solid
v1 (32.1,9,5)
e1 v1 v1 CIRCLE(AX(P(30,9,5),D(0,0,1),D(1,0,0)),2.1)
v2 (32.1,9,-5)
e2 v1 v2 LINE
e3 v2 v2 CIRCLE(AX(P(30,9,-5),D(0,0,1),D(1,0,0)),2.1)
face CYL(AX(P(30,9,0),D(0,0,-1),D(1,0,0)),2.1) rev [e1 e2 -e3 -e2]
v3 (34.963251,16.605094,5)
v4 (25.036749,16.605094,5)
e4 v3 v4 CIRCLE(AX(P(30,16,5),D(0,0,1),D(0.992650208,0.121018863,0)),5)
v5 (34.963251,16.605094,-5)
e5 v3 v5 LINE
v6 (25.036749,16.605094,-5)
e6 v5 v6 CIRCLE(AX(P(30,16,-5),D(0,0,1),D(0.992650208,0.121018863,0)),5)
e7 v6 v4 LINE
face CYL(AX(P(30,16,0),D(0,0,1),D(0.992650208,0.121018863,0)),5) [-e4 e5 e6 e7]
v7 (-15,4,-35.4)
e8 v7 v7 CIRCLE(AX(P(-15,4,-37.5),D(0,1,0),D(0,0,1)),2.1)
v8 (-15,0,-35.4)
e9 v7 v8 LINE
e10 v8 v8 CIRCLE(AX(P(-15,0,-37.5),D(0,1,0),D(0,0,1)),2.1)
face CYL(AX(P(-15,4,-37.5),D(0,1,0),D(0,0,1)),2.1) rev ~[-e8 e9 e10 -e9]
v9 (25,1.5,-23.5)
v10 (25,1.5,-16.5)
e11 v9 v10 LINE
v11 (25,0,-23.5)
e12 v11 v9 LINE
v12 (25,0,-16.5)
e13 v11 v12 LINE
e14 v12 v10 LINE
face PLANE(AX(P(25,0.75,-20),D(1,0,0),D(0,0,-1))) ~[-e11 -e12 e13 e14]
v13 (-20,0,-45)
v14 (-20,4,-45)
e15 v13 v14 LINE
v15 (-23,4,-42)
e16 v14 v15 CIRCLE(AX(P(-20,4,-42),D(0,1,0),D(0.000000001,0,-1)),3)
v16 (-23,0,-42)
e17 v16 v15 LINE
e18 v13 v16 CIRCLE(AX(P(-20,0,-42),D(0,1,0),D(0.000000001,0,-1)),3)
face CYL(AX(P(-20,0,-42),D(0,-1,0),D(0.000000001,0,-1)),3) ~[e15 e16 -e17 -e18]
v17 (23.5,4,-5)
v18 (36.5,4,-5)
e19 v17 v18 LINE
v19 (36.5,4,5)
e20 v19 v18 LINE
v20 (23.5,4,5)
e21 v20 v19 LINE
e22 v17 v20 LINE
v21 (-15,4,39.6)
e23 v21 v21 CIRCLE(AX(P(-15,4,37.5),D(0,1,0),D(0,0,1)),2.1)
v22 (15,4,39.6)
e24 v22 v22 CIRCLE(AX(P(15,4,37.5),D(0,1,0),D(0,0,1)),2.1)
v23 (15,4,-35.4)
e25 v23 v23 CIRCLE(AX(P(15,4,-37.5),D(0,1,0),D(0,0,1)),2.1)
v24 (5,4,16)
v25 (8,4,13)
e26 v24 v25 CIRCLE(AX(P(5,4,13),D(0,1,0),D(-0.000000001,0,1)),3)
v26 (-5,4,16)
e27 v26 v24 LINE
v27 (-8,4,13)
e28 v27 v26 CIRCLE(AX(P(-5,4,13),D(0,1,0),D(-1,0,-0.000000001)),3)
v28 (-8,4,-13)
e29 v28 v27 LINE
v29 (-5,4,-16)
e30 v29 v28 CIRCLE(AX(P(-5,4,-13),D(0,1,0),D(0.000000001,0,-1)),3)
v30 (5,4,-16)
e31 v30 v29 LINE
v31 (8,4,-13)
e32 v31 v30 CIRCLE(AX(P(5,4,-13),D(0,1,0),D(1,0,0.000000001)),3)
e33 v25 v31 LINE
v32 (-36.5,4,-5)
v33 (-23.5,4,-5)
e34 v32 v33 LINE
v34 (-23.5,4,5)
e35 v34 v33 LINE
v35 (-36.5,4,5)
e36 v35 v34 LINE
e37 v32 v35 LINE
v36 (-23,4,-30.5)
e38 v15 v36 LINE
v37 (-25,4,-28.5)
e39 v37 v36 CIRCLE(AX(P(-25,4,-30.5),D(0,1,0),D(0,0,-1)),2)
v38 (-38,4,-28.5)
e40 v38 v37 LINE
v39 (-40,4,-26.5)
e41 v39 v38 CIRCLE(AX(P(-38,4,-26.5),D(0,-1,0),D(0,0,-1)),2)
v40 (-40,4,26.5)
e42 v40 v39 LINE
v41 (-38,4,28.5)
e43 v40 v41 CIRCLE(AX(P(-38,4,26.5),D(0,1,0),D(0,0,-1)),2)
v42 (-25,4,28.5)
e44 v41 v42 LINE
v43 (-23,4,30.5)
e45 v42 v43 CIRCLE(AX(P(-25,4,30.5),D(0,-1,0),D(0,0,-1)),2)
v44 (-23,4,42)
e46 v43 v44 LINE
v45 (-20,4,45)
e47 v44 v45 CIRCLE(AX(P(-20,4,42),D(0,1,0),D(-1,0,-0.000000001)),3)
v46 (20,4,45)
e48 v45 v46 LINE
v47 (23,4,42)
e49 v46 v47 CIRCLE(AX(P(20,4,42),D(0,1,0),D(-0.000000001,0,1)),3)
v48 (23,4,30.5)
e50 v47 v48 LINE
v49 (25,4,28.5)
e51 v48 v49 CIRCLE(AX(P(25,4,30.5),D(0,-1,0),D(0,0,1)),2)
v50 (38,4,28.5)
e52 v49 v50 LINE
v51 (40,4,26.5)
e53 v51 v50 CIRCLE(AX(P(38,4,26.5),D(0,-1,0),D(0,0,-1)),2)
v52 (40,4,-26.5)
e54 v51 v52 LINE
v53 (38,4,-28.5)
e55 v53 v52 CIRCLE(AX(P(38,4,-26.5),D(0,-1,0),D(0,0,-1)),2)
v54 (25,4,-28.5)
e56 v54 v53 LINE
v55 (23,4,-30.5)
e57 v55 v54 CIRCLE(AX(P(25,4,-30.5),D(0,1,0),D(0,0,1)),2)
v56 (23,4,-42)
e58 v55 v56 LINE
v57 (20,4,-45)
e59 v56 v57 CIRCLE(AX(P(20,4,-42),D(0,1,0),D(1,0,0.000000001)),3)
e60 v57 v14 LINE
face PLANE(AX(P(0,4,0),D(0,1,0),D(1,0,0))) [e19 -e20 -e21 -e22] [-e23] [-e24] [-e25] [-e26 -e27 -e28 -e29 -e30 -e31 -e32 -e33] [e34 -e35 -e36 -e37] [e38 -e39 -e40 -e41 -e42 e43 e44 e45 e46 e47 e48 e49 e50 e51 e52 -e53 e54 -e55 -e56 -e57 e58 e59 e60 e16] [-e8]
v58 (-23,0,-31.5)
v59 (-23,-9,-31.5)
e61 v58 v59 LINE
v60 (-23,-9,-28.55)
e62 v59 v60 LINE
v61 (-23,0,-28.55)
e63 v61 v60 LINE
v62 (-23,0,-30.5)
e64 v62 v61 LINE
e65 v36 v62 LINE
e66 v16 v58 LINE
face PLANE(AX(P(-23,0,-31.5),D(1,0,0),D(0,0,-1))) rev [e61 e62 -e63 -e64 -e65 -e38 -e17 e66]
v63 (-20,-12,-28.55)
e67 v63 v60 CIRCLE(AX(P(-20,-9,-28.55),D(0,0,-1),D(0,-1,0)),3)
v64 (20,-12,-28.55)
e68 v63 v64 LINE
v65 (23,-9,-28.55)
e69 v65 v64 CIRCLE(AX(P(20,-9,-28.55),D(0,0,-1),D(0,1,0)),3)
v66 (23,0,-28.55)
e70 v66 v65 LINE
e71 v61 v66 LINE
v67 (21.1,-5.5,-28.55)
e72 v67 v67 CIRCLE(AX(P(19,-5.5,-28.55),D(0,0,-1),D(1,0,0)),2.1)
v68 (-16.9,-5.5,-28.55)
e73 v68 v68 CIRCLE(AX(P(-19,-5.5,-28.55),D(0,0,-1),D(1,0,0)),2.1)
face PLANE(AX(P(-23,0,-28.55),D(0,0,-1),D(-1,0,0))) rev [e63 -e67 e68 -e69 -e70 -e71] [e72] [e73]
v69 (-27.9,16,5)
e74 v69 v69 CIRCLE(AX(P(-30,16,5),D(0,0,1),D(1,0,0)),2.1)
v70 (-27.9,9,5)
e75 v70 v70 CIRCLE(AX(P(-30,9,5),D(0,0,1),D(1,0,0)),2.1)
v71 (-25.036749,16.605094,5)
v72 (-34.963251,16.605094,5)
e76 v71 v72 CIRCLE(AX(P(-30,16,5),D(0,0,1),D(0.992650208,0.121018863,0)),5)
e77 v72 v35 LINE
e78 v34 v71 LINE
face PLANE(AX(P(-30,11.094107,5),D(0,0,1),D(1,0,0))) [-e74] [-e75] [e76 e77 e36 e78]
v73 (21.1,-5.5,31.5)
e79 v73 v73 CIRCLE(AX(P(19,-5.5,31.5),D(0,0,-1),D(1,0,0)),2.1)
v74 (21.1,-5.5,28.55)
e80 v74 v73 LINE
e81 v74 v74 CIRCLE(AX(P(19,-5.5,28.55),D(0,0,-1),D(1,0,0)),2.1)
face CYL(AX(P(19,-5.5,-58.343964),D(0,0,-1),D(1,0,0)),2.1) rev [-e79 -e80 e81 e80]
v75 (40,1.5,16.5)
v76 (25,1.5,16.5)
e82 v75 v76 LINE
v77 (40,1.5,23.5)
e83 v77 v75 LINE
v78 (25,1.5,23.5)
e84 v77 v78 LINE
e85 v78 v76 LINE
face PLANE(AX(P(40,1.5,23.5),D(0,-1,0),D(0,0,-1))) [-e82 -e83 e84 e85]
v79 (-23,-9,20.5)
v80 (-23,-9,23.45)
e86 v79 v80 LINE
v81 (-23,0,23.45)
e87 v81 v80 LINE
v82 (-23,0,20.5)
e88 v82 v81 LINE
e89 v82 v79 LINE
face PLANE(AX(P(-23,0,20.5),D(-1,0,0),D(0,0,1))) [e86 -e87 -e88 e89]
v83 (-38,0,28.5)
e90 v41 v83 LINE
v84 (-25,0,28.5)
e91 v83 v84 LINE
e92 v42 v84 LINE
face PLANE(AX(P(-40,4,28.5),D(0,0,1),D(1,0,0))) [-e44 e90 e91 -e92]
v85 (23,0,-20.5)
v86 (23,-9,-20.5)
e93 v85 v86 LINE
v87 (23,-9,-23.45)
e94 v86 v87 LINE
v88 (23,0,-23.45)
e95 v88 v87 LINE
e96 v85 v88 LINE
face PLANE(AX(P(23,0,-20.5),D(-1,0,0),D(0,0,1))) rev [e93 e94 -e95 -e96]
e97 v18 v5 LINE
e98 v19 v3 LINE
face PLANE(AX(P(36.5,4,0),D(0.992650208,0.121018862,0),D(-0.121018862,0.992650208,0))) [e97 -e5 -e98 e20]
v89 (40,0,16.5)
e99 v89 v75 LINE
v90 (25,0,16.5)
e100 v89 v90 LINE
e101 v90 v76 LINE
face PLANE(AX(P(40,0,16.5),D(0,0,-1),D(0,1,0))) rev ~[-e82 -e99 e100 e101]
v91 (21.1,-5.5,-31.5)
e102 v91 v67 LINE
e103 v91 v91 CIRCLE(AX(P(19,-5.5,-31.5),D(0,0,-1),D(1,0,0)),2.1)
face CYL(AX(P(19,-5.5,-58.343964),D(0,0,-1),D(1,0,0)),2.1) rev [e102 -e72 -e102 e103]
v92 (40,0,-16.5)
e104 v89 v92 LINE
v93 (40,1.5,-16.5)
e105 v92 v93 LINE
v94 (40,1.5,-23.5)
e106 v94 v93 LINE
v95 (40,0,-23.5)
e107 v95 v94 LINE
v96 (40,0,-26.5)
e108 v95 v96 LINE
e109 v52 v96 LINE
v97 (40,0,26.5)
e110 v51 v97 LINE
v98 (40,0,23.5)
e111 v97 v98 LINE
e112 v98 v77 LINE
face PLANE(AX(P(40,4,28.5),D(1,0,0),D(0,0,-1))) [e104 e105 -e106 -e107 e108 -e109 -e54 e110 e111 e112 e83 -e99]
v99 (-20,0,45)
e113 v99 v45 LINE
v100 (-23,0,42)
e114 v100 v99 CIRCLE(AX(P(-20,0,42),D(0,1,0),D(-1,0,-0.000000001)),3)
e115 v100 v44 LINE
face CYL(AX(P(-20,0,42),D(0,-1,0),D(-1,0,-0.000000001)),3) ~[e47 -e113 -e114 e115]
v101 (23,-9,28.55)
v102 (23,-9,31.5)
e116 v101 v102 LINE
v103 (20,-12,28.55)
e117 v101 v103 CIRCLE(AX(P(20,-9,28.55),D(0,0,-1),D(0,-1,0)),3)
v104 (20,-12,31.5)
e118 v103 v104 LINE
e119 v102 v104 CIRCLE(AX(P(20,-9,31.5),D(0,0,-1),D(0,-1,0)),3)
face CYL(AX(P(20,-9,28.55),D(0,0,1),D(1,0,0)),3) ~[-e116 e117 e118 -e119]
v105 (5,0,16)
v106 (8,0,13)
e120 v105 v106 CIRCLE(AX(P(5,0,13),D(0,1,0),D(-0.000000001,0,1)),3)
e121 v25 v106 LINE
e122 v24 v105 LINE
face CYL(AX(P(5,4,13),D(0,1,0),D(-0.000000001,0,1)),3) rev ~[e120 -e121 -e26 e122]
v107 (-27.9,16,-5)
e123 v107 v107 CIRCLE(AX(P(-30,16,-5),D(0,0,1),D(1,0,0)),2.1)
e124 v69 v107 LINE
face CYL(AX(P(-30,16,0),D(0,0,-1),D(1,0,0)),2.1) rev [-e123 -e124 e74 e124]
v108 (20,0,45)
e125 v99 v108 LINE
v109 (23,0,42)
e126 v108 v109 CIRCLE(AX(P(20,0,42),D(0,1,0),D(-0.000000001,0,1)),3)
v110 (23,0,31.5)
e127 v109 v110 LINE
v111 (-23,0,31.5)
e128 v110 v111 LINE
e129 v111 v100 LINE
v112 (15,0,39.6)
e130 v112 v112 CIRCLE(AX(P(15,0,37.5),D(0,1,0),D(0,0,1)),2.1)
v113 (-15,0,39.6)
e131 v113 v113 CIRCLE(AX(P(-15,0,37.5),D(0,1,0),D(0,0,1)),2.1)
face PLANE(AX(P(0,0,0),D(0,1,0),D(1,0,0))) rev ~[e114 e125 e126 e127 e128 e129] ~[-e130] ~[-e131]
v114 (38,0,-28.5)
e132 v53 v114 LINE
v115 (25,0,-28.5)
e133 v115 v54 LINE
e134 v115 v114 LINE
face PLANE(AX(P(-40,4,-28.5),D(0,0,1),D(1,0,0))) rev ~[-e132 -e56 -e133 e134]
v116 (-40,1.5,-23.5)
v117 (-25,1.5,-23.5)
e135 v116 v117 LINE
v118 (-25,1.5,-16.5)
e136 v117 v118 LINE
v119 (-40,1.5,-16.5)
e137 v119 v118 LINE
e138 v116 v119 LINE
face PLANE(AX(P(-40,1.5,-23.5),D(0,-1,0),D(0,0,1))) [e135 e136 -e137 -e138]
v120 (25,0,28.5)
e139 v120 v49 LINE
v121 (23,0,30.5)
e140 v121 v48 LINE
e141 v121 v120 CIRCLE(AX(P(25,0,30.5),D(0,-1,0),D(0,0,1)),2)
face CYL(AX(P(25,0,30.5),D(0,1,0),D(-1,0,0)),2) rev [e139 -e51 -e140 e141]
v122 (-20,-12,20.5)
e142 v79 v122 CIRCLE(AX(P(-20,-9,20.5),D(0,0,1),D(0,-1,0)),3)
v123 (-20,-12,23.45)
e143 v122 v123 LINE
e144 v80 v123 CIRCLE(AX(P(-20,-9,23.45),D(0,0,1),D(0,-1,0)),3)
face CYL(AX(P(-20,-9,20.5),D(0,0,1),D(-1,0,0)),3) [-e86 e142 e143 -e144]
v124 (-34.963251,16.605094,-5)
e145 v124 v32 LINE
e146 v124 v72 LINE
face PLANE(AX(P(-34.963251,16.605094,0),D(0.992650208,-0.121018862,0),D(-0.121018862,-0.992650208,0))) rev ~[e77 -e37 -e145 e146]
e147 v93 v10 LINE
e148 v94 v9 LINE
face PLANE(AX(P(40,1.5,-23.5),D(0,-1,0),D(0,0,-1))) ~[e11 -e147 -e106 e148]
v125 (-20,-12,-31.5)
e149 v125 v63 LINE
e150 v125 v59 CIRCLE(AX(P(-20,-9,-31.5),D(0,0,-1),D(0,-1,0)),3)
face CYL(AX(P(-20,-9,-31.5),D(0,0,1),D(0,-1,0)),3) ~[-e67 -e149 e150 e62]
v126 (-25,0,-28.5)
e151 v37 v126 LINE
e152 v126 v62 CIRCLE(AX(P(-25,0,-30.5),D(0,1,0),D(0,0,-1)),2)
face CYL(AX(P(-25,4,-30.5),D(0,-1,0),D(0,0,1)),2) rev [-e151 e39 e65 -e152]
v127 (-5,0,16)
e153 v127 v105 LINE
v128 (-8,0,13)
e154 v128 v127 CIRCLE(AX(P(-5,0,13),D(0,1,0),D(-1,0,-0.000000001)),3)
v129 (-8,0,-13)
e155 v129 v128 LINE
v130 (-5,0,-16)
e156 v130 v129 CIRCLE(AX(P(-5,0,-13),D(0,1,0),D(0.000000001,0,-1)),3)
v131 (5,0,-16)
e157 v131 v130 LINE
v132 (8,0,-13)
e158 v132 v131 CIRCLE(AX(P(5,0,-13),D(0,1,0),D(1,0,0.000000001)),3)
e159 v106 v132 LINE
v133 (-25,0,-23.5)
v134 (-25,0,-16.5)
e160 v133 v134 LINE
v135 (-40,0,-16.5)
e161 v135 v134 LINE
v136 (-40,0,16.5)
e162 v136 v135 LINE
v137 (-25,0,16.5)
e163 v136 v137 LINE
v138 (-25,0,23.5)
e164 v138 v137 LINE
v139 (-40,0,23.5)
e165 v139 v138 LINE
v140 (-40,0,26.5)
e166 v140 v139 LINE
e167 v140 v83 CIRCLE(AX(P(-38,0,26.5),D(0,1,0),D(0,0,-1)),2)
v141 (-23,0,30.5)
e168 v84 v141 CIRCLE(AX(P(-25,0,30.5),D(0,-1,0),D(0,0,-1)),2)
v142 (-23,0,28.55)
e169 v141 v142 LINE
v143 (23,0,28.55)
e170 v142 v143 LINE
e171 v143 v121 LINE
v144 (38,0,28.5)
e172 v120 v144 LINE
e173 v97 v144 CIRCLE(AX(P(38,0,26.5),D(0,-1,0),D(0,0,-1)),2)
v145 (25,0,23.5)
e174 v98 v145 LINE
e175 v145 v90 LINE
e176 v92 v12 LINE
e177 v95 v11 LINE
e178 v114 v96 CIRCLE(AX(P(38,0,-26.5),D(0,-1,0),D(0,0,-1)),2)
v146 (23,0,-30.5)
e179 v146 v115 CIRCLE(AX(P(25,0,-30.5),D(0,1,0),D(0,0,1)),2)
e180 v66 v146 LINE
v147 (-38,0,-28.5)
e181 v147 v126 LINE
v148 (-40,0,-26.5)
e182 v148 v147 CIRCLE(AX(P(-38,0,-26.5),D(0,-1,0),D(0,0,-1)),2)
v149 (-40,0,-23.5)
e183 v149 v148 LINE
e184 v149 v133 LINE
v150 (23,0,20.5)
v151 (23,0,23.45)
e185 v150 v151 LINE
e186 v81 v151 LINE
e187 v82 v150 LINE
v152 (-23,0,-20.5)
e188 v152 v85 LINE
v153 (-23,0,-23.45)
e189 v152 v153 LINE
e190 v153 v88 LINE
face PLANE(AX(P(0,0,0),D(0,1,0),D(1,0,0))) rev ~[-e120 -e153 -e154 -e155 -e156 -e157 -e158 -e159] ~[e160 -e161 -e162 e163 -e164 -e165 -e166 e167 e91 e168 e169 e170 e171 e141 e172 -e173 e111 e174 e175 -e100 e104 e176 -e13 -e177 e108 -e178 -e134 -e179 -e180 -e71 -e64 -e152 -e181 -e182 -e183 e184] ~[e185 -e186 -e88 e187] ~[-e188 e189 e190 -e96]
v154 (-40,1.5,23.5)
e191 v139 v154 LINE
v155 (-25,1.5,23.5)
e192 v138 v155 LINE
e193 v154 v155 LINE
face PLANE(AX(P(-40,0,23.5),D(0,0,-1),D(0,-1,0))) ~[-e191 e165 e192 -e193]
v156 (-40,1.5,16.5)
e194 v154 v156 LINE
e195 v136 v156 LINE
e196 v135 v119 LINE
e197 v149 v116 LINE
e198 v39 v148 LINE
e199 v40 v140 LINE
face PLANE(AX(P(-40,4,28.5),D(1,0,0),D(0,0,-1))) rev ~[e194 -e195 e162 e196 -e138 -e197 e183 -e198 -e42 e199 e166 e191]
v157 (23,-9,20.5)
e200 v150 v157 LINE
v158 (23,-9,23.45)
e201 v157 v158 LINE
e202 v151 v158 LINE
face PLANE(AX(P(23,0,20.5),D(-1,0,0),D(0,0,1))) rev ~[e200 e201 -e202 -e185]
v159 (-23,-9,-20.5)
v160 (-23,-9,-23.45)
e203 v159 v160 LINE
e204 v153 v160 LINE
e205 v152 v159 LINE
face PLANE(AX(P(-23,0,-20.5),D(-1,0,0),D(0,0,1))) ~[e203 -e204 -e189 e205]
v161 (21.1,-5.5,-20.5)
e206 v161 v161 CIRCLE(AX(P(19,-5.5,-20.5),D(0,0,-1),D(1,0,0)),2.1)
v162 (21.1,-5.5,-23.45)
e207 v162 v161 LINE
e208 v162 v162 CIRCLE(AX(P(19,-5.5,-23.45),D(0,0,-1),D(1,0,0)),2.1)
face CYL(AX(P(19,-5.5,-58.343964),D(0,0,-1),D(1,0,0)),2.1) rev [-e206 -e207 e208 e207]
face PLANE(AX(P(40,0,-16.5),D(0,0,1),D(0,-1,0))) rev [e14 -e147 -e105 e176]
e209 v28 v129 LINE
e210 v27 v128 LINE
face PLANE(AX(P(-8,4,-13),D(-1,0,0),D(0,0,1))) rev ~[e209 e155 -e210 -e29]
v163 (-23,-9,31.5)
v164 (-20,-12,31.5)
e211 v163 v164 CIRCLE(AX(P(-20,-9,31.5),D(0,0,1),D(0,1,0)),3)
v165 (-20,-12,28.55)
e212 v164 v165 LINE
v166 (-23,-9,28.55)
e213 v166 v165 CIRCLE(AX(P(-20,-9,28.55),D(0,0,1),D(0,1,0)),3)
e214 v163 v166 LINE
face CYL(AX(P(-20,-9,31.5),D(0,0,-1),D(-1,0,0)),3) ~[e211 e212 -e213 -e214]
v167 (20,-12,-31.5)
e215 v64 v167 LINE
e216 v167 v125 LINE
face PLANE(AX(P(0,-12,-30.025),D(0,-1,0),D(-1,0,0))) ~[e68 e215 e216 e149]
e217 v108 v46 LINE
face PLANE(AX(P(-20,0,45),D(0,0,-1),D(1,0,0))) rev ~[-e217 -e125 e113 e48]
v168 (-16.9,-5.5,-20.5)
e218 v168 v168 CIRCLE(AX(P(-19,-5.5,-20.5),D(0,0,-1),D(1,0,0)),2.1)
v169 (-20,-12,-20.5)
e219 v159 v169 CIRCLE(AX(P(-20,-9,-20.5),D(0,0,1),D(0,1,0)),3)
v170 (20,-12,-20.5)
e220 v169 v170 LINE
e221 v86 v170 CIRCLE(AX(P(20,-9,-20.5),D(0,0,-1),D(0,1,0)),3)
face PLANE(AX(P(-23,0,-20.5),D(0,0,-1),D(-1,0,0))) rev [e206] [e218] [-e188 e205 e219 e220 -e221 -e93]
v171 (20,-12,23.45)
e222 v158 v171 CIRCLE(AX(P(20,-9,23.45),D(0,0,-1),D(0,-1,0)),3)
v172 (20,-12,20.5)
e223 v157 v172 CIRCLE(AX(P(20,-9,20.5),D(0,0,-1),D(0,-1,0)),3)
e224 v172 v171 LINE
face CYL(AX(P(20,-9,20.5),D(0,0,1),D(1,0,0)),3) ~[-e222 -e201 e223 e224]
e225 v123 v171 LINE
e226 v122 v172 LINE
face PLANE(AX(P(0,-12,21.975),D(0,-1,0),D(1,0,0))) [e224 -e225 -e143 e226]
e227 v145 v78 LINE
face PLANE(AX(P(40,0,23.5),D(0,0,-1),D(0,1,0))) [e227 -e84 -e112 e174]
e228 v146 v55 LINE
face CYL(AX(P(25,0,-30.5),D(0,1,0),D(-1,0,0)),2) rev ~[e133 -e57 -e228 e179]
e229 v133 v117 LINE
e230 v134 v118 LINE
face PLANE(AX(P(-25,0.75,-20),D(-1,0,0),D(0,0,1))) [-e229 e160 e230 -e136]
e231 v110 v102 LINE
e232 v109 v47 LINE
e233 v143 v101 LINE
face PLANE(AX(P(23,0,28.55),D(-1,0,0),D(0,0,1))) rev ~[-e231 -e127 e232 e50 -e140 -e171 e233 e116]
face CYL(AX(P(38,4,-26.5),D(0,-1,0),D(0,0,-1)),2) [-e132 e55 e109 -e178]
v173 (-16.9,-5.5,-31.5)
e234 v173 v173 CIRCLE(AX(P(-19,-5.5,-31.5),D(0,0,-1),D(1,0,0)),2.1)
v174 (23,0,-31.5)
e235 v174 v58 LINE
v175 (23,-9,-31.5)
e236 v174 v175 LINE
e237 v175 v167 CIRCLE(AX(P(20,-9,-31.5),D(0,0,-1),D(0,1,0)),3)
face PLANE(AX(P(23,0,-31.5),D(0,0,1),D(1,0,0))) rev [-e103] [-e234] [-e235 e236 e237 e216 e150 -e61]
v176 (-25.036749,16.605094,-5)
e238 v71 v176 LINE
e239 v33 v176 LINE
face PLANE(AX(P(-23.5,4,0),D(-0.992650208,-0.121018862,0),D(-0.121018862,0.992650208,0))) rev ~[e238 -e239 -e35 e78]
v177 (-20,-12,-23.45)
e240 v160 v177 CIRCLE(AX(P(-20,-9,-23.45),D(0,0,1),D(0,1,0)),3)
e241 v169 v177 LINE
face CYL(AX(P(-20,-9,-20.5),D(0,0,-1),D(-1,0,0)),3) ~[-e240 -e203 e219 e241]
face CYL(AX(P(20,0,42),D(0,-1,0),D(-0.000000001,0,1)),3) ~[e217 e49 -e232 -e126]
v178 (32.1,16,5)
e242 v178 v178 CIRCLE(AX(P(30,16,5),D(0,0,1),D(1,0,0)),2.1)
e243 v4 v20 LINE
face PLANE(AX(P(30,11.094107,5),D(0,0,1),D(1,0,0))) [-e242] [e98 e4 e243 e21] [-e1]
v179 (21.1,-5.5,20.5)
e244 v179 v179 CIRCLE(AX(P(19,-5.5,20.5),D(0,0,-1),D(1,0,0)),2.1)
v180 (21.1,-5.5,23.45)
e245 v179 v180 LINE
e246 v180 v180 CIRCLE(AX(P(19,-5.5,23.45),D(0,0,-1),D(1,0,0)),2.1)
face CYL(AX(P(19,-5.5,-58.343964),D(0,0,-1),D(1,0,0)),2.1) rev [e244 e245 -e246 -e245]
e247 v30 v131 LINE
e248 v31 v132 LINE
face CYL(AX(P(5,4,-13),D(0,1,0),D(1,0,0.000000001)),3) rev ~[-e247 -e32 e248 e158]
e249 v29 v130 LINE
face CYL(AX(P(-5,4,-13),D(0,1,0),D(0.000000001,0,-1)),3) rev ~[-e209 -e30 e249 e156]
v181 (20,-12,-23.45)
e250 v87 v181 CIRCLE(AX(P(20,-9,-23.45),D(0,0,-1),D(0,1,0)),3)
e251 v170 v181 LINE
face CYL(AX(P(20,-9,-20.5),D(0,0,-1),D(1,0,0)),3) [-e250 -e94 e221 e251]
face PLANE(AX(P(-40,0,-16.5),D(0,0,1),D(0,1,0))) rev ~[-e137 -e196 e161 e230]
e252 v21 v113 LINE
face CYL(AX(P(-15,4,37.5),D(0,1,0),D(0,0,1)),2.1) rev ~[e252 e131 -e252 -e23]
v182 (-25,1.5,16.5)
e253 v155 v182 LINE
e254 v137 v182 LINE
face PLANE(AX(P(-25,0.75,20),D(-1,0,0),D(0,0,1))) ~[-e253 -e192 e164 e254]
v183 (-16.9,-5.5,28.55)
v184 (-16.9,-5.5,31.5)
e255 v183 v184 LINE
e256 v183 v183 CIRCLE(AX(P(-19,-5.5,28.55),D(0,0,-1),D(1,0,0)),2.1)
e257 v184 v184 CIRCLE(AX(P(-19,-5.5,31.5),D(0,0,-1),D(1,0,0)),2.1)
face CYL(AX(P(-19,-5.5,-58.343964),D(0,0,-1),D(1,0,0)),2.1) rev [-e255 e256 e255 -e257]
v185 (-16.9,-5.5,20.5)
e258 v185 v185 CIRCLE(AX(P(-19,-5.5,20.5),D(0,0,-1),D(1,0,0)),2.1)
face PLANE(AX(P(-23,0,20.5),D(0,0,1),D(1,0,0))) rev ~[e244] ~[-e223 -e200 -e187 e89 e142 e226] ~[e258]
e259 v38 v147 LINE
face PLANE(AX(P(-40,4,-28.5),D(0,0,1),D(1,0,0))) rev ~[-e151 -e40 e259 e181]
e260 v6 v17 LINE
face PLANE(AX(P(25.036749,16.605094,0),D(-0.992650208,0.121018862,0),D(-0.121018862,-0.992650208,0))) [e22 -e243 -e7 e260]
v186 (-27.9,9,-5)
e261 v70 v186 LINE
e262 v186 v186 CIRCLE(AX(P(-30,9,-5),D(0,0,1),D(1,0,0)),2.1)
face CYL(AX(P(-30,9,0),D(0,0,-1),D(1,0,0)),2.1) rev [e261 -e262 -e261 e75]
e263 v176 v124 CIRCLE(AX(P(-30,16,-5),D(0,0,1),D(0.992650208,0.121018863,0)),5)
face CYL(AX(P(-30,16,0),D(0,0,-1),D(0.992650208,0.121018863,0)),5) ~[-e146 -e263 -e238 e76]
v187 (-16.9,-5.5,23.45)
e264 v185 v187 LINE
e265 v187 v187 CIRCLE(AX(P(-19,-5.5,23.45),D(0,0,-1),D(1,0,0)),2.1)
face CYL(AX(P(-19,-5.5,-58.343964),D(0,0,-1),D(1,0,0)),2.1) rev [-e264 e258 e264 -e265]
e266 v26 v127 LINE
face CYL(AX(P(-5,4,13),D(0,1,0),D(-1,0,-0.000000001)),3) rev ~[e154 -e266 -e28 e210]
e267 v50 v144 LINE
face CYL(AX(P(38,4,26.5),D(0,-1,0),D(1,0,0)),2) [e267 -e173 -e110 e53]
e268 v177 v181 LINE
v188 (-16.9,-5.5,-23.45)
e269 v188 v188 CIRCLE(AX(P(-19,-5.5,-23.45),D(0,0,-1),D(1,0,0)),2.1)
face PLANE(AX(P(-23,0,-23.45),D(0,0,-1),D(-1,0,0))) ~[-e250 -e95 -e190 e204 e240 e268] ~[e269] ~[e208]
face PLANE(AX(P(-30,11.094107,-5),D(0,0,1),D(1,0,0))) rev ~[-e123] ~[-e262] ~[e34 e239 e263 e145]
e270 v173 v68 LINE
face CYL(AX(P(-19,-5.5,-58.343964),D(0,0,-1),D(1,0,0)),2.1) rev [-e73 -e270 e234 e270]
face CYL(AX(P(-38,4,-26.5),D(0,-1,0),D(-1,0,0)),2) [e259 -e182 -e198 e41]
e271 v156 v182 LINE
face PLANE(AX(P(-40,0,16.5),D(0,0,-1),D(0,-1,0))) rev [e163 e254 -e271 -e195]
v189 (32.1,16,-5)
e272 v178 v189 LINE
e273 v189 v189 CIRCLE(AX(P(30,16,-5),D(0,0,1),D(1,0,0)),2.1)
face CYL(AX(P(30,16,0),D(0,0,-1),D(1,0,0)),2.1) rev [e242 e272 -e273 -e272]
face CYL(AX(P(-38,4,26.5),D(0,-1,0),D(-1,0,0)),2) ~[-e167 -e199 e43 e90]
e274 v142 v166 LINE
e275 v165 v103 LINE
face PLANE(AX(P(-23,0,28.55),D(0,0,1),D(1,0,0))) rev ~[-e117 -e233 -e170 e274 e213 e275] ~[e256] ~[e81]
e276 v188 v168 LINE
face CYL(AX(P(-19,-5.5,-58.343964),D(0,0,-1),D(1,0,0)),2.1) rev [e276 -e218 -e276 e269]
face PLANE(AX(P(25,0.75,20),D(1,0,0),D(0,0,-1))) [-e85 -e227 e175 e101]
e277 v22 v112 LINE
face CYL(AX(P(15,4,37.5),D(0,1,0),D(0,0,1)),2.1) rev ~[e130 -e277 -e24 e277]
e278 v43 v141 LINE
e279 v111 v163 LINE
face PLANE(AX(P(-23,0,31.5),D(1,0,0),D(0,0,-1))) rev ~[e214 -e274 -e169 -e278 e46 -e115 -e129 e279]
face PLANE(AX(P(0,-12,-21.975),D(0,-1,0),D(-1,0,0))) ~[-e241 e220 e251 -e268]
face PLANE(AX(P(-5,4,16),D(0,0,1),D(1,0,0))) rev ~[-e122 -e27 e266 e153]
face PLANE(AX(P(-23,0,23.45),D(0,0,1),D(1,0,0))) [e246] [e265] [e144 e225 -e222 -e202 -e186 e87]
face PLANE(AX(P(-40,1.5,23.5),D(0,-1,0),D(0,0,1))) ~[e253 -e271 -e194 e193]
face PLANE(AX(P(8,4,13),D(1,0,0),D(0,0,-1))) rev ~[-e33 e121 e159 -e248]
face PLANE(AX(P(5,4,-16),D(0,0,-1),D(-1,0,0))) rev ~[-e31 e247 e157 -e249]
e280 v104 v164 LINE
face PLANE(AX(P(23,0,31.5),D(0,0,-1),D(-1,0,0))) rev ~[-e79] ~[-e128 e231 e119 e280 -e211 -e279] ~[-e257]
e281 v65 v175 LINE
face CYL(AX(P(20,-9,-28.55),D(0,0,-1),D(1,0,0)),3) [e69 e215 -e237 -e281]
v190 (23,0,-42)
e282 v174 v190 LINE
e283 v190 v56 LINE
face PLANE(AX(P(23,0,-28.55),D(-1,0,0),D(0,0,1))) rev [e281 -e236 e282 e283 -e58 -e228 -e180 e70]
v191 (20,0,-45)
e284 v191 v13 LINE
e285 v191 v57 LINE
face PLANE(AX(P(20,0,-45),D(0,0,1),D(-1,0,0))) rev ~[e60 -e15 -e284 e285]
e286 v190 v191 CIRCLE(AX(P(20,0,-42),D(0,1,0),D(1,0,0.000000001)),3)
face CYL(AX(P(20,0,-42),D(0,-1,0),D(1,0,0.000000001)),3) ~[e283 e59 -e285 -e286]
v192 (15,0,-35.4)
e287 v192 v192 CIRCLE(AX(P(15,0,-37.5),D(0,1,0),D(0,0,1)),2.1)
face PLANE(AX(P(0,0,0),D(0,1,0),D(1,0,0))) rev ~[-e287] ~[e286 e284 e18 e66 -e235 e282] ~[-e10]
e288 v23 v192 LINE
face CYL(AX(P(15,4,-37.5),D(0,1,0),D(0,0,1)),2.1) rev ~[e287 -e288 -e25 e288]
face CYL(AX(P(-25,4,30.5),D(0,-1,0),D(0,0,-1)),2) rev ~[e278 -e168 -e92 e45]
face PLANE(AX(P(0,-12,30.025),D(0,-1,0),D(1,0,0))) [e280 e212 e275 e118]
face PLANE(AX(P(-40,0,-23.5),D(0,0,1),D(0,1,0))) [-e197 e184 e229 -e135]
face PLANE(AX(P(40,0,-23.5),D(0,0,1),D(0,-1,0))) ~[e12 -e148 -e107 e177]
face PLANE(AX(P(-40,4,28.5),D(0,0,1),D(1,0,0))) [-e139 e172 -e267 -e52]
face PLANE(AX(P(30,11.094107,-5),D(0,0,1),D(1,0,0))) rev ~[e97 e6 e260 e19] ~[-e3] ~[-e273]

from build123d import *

# Parameters (mm, degrees)
EXTRUDE_1_DEPTH          = 4
SKETCH_2_W               = 80
SKETCH_2_H               = 57
EXTRUDE_2_DEPTH          = 4
FILLET_1_R               = 2
SKETCH_3_R               = 2.1
CUT_EXTRUDE_1_DEPTH      = 61.340699366
SKETCH_4_R               = 2.1
EXTRUDE_3_DEPTH          = 5
SKETCH_5_W               = 46
SKETCH_5_H               = 2.95
EXTRUDE_4_DEPTH          = 12
CUT_EXTRUDE_2_DEPTH      = 89.843964342
CUT_EXTRUDE_2_DEPTH_BACK = 89.843964342
SKETCH_6_R               = 2.1
FILLET_2_R               = 3
SKETCH_7_W               = 7
SKETCH_7_H               = 1.5
CUT_EXTRUDE_3_DEPTH      = 15
MIRROR_3_COPY_1_SKETCH_W = 7
MIRROR_3_COPY_1_SKETCH_H = 1.5
MIRROR_3_COPY_1_DEPTH    = 15
CUT_EXTRUDE_4_DEPTH      = 10


with BuildPart() as part:
    # 草图1 → 凸台-拉伸1 (new body)
    with BuildSketch(Plane(origin=(0, 0, 0), x_dir=(1, 0, 0), z_dir=(0, 1, 0))):
        with BuildLine():
            Line((-20, -45), (20, -45))
            ThreePointArc((20, -45), (22.121320344, -44.121320344), (23, -42))
            Line((23, -42), (23, 42))
            ThreePointArc((23, 42), (22.121320344, 44.121320344), (20, 45))
            Line((20, 45), (-20, 45))
            ThreePointArc((-20, 45), (-22.121320344, 44.121320344), (-23, 42))
            Line((-23, 42), (-23, -42))
            ThreePointArc((-23, -42), (-22.121320344, -44.121320344), (-20, -45))
        make_face()
    extrude(amount=EXTRUDE_1_DEPTH)

    # 草图2 → 凸台-拉伸2 (add)
    with BuildSketch(Plane(origin=(0, 4, 0), x_dir=(1, 0, 0), z_dir=(0, 1, 0))):
        Rectangle(SKETCH_2_W, SKETCH_2_H)
    extrude(amount=-EXTRUDE_2_DEPTH)

    # 圆角1
    fillet_1_edges = [part.edges().sort_by_distance(p)[0] for p in [
        (40, 2, 28.5),
        (-40, 2, -28.5),
        (40, 2, -28.5),
        (23, 2, 28.5),
        (-23, 2, 28.5),
        (-40, 2, 28.5),
        (23, 2, -28.5),
        (-23, 2, -28.5),
    ]]
    fillet(fillet_1_edges, radius=FILLET_1_R)

    # 草图3 → 切除-拉伸1 (cut, through all)
    with BuildSketch(Plane(origin=(0, 4, 0), x_dir=(1, 0, 0), z_dir=(0, 1, 0))):
        with Locations(Location((15, -37.5, 0), (0, 0, 270))):
            Circle(SKETCH_3_R)
        with Locations(Location((-15, -37.5, 0), (0, 0, 270))):
            Circle(SKETCH_3_R)
        with Locations(Location((-15, 37.5, 0), (0, 0, 270))):
            Circle(SKETCH_3_R)
        with Locations(Location((15, 37.5, 0), (0, 0, 270))):
            Circle(SKETCH_3_R)
    extrude(amount=-CUT_EXTRUDE_1_DEPTH, mode=Mode.SUBTRACT)

    # 草图4 → 凸台-拉伸3 (add, symmetric)
    # profile 1 of 2: a face of its own
    with BuildSketch(Plane.XY):
        with BuildLine():
            ThreePointArc((-25.036748961, 16.605094313), (-30, 21), (-34.963251039, 16.605094313))
            Line((-34.963251039, 16.605094313), (-36.5, 4))
            Line((-36.5, 4), (-23.5, 4))
            Line((-23.5, 4), (-25.036748961, 16.605094313))
        make_face()
        with Locations((-30, 9)):
            Circle(SKETCH_4_R, mode=Mode.SUBTRACT)
        with Locations((-30, 16)):
            Circle(SKETCH_4_R, mode=Mode.SUBTRACT)
    # profile 2 of 2: a face of its own
    with BuildSketch(Plane.XY):
        with BuildLine():
            ThreePointArc((34.963251039, 16.605094313), (30, 21), (25.036748961, 16.605094313))
            Line((25.036748961, 16.605094313), (23.5, 4))
            Line((23.5, 4), (36.5, 4))
            Line((36.5, 4), (34.963251039, 16.605094313))
        make_face()
        with Locations((30, 9)):
            Circle(SKETCH_4_R, mode=Mode.SUBTRACT)
        with Locations((30, 16)):
            Circle(SKETCH_4_R, mode=Mode.SUBTRACT)
    extrude(amount=EXTRUDE_3_DEPTH, both=True)

    # 草图5 → 凸台-拉伸4 (add)
    with BuildSketch(Plane.XZ):
        Polygon((23, 31.5), (-23, 31.5), (-23, 30.5), (-23, 28.55), (23, 28.55), (23, 30.5), align=None)
        with Locations((0, 21.975)):
            Rectangle(SKETCH_5_W, SKETCH_5_H)
    extrude_4 = extrude(amount=EXTRUDE_4_DEPTH)

    # 镜向1: 凸台-拉伸4 across plane
    add(extrude_4.mirror(Plane.XY))

    # 草图6 → 切除-拉伸2 (cut, two sides: drawn at the far end of the back side and taken through both)
    with BuildSketch(Plane.XY.offset(31.5).offset(-CUT_EXTRUDE_2_DEPTH_BACK)):
        with Locations((19, -5.5)):
            Circle(SKETCH_6_R)
        with Locations((-19, -5.5)):
            Circle(SKETCH_6_R)
    extrude(amount=CUT_EXTRUDE_2_DEPTH + CUT_EXTRUDE_2_DEPTH_BACK, mode=Mode.SUBTRACT)

    # 圆角2
    fillet_2_edges = [part.edges().sort_by_distance(p)[0] for p in [
        (23, -12, 30.025),
        (-23, -12, 30.025),
        (23, -12, 21.975),
        (-23, -12, 21.975),
        (-23, -12, -30.025),
        (23, -12, -30.025),
        (-23, -12, -21.975),
        (23, -12, -21.975),
    ]]
    fillet(fillet_2_edges, radius=FILLET_2_R)

    # 草图7 → 切除-拉伸3 (cut)
    with BuildSketch(Plane.ZY.offset(40)):
        with Locations((-20, 0.75)):
            Rectangle(SKETCH_7_W, SKETCH_7_H)
    cut_extrude_3 = extrude(amount=-CUT_EXTRUDE_3_DEPTH, mode=Mode.SUBTRACT)

    # 镜向2: 切除-拉伸3 across plane
    add(cut_extrude_3.mirror(Plane.XY), mode=Mode.SUBTRACT)

    # 镜向3: 切除-拉伸3 across plane
    add(cut_extrude_3.mirror(Plane(origin=(0, 0, 0), x_dir=(0, 0, 1), z_dir=(1, 0, 0))), mode=Mode.SUBTRACT)

    # 镜向3 copy 1 sketch → 镜向3 copy 1 (cut)
    with BuildSketch(Plane(origin=(40, 0, 0), x_dir=(0, 0, -1), z_dir=(1, 0, 0))):
        with Locations((-20, 0.75)):
            Rectangle(MIRROR_3_COPY_1_SKETCH_W, MIRROR_3_COPY_1_SKETCH_H)
    extrude(amount=-MIRROR_3_COPY_1_DEPTH, mode=Mode.SUBTRACT)

    # 草图8 → 切除-拉伸4 (cut)
    with BuildSketch(Plane(origin=(0, 4, 0), x_dir=(1, 0, 0), z_dir=(0, 1, 0))):
        with BuildLine():
            Line((-5, -16), (5, -16))
            ThreePointArc((5, -16), (7.121320344, -15.121320344), (8, -13))
            Line((8, -13), (8, 13))
            ThreePointArc((8, 13), (7.121320344, 15.121320344), (5, 16))
            Line((5, 16), (-5, 16))
            ThreePointArc((-5, 16), (-7.121320344, 15.121320344), (-8, 13))
            Line((-8, 13), (-8, -13))
            ThreePointArc((-8, -13), (-7.121320344, -15.121320344), (-5, -16))
        make_face()
    extrude(amount=-CUT_EXTRUDE_4_DEPTH, mode=Mode.SUBTRACT)


solid = part.part
